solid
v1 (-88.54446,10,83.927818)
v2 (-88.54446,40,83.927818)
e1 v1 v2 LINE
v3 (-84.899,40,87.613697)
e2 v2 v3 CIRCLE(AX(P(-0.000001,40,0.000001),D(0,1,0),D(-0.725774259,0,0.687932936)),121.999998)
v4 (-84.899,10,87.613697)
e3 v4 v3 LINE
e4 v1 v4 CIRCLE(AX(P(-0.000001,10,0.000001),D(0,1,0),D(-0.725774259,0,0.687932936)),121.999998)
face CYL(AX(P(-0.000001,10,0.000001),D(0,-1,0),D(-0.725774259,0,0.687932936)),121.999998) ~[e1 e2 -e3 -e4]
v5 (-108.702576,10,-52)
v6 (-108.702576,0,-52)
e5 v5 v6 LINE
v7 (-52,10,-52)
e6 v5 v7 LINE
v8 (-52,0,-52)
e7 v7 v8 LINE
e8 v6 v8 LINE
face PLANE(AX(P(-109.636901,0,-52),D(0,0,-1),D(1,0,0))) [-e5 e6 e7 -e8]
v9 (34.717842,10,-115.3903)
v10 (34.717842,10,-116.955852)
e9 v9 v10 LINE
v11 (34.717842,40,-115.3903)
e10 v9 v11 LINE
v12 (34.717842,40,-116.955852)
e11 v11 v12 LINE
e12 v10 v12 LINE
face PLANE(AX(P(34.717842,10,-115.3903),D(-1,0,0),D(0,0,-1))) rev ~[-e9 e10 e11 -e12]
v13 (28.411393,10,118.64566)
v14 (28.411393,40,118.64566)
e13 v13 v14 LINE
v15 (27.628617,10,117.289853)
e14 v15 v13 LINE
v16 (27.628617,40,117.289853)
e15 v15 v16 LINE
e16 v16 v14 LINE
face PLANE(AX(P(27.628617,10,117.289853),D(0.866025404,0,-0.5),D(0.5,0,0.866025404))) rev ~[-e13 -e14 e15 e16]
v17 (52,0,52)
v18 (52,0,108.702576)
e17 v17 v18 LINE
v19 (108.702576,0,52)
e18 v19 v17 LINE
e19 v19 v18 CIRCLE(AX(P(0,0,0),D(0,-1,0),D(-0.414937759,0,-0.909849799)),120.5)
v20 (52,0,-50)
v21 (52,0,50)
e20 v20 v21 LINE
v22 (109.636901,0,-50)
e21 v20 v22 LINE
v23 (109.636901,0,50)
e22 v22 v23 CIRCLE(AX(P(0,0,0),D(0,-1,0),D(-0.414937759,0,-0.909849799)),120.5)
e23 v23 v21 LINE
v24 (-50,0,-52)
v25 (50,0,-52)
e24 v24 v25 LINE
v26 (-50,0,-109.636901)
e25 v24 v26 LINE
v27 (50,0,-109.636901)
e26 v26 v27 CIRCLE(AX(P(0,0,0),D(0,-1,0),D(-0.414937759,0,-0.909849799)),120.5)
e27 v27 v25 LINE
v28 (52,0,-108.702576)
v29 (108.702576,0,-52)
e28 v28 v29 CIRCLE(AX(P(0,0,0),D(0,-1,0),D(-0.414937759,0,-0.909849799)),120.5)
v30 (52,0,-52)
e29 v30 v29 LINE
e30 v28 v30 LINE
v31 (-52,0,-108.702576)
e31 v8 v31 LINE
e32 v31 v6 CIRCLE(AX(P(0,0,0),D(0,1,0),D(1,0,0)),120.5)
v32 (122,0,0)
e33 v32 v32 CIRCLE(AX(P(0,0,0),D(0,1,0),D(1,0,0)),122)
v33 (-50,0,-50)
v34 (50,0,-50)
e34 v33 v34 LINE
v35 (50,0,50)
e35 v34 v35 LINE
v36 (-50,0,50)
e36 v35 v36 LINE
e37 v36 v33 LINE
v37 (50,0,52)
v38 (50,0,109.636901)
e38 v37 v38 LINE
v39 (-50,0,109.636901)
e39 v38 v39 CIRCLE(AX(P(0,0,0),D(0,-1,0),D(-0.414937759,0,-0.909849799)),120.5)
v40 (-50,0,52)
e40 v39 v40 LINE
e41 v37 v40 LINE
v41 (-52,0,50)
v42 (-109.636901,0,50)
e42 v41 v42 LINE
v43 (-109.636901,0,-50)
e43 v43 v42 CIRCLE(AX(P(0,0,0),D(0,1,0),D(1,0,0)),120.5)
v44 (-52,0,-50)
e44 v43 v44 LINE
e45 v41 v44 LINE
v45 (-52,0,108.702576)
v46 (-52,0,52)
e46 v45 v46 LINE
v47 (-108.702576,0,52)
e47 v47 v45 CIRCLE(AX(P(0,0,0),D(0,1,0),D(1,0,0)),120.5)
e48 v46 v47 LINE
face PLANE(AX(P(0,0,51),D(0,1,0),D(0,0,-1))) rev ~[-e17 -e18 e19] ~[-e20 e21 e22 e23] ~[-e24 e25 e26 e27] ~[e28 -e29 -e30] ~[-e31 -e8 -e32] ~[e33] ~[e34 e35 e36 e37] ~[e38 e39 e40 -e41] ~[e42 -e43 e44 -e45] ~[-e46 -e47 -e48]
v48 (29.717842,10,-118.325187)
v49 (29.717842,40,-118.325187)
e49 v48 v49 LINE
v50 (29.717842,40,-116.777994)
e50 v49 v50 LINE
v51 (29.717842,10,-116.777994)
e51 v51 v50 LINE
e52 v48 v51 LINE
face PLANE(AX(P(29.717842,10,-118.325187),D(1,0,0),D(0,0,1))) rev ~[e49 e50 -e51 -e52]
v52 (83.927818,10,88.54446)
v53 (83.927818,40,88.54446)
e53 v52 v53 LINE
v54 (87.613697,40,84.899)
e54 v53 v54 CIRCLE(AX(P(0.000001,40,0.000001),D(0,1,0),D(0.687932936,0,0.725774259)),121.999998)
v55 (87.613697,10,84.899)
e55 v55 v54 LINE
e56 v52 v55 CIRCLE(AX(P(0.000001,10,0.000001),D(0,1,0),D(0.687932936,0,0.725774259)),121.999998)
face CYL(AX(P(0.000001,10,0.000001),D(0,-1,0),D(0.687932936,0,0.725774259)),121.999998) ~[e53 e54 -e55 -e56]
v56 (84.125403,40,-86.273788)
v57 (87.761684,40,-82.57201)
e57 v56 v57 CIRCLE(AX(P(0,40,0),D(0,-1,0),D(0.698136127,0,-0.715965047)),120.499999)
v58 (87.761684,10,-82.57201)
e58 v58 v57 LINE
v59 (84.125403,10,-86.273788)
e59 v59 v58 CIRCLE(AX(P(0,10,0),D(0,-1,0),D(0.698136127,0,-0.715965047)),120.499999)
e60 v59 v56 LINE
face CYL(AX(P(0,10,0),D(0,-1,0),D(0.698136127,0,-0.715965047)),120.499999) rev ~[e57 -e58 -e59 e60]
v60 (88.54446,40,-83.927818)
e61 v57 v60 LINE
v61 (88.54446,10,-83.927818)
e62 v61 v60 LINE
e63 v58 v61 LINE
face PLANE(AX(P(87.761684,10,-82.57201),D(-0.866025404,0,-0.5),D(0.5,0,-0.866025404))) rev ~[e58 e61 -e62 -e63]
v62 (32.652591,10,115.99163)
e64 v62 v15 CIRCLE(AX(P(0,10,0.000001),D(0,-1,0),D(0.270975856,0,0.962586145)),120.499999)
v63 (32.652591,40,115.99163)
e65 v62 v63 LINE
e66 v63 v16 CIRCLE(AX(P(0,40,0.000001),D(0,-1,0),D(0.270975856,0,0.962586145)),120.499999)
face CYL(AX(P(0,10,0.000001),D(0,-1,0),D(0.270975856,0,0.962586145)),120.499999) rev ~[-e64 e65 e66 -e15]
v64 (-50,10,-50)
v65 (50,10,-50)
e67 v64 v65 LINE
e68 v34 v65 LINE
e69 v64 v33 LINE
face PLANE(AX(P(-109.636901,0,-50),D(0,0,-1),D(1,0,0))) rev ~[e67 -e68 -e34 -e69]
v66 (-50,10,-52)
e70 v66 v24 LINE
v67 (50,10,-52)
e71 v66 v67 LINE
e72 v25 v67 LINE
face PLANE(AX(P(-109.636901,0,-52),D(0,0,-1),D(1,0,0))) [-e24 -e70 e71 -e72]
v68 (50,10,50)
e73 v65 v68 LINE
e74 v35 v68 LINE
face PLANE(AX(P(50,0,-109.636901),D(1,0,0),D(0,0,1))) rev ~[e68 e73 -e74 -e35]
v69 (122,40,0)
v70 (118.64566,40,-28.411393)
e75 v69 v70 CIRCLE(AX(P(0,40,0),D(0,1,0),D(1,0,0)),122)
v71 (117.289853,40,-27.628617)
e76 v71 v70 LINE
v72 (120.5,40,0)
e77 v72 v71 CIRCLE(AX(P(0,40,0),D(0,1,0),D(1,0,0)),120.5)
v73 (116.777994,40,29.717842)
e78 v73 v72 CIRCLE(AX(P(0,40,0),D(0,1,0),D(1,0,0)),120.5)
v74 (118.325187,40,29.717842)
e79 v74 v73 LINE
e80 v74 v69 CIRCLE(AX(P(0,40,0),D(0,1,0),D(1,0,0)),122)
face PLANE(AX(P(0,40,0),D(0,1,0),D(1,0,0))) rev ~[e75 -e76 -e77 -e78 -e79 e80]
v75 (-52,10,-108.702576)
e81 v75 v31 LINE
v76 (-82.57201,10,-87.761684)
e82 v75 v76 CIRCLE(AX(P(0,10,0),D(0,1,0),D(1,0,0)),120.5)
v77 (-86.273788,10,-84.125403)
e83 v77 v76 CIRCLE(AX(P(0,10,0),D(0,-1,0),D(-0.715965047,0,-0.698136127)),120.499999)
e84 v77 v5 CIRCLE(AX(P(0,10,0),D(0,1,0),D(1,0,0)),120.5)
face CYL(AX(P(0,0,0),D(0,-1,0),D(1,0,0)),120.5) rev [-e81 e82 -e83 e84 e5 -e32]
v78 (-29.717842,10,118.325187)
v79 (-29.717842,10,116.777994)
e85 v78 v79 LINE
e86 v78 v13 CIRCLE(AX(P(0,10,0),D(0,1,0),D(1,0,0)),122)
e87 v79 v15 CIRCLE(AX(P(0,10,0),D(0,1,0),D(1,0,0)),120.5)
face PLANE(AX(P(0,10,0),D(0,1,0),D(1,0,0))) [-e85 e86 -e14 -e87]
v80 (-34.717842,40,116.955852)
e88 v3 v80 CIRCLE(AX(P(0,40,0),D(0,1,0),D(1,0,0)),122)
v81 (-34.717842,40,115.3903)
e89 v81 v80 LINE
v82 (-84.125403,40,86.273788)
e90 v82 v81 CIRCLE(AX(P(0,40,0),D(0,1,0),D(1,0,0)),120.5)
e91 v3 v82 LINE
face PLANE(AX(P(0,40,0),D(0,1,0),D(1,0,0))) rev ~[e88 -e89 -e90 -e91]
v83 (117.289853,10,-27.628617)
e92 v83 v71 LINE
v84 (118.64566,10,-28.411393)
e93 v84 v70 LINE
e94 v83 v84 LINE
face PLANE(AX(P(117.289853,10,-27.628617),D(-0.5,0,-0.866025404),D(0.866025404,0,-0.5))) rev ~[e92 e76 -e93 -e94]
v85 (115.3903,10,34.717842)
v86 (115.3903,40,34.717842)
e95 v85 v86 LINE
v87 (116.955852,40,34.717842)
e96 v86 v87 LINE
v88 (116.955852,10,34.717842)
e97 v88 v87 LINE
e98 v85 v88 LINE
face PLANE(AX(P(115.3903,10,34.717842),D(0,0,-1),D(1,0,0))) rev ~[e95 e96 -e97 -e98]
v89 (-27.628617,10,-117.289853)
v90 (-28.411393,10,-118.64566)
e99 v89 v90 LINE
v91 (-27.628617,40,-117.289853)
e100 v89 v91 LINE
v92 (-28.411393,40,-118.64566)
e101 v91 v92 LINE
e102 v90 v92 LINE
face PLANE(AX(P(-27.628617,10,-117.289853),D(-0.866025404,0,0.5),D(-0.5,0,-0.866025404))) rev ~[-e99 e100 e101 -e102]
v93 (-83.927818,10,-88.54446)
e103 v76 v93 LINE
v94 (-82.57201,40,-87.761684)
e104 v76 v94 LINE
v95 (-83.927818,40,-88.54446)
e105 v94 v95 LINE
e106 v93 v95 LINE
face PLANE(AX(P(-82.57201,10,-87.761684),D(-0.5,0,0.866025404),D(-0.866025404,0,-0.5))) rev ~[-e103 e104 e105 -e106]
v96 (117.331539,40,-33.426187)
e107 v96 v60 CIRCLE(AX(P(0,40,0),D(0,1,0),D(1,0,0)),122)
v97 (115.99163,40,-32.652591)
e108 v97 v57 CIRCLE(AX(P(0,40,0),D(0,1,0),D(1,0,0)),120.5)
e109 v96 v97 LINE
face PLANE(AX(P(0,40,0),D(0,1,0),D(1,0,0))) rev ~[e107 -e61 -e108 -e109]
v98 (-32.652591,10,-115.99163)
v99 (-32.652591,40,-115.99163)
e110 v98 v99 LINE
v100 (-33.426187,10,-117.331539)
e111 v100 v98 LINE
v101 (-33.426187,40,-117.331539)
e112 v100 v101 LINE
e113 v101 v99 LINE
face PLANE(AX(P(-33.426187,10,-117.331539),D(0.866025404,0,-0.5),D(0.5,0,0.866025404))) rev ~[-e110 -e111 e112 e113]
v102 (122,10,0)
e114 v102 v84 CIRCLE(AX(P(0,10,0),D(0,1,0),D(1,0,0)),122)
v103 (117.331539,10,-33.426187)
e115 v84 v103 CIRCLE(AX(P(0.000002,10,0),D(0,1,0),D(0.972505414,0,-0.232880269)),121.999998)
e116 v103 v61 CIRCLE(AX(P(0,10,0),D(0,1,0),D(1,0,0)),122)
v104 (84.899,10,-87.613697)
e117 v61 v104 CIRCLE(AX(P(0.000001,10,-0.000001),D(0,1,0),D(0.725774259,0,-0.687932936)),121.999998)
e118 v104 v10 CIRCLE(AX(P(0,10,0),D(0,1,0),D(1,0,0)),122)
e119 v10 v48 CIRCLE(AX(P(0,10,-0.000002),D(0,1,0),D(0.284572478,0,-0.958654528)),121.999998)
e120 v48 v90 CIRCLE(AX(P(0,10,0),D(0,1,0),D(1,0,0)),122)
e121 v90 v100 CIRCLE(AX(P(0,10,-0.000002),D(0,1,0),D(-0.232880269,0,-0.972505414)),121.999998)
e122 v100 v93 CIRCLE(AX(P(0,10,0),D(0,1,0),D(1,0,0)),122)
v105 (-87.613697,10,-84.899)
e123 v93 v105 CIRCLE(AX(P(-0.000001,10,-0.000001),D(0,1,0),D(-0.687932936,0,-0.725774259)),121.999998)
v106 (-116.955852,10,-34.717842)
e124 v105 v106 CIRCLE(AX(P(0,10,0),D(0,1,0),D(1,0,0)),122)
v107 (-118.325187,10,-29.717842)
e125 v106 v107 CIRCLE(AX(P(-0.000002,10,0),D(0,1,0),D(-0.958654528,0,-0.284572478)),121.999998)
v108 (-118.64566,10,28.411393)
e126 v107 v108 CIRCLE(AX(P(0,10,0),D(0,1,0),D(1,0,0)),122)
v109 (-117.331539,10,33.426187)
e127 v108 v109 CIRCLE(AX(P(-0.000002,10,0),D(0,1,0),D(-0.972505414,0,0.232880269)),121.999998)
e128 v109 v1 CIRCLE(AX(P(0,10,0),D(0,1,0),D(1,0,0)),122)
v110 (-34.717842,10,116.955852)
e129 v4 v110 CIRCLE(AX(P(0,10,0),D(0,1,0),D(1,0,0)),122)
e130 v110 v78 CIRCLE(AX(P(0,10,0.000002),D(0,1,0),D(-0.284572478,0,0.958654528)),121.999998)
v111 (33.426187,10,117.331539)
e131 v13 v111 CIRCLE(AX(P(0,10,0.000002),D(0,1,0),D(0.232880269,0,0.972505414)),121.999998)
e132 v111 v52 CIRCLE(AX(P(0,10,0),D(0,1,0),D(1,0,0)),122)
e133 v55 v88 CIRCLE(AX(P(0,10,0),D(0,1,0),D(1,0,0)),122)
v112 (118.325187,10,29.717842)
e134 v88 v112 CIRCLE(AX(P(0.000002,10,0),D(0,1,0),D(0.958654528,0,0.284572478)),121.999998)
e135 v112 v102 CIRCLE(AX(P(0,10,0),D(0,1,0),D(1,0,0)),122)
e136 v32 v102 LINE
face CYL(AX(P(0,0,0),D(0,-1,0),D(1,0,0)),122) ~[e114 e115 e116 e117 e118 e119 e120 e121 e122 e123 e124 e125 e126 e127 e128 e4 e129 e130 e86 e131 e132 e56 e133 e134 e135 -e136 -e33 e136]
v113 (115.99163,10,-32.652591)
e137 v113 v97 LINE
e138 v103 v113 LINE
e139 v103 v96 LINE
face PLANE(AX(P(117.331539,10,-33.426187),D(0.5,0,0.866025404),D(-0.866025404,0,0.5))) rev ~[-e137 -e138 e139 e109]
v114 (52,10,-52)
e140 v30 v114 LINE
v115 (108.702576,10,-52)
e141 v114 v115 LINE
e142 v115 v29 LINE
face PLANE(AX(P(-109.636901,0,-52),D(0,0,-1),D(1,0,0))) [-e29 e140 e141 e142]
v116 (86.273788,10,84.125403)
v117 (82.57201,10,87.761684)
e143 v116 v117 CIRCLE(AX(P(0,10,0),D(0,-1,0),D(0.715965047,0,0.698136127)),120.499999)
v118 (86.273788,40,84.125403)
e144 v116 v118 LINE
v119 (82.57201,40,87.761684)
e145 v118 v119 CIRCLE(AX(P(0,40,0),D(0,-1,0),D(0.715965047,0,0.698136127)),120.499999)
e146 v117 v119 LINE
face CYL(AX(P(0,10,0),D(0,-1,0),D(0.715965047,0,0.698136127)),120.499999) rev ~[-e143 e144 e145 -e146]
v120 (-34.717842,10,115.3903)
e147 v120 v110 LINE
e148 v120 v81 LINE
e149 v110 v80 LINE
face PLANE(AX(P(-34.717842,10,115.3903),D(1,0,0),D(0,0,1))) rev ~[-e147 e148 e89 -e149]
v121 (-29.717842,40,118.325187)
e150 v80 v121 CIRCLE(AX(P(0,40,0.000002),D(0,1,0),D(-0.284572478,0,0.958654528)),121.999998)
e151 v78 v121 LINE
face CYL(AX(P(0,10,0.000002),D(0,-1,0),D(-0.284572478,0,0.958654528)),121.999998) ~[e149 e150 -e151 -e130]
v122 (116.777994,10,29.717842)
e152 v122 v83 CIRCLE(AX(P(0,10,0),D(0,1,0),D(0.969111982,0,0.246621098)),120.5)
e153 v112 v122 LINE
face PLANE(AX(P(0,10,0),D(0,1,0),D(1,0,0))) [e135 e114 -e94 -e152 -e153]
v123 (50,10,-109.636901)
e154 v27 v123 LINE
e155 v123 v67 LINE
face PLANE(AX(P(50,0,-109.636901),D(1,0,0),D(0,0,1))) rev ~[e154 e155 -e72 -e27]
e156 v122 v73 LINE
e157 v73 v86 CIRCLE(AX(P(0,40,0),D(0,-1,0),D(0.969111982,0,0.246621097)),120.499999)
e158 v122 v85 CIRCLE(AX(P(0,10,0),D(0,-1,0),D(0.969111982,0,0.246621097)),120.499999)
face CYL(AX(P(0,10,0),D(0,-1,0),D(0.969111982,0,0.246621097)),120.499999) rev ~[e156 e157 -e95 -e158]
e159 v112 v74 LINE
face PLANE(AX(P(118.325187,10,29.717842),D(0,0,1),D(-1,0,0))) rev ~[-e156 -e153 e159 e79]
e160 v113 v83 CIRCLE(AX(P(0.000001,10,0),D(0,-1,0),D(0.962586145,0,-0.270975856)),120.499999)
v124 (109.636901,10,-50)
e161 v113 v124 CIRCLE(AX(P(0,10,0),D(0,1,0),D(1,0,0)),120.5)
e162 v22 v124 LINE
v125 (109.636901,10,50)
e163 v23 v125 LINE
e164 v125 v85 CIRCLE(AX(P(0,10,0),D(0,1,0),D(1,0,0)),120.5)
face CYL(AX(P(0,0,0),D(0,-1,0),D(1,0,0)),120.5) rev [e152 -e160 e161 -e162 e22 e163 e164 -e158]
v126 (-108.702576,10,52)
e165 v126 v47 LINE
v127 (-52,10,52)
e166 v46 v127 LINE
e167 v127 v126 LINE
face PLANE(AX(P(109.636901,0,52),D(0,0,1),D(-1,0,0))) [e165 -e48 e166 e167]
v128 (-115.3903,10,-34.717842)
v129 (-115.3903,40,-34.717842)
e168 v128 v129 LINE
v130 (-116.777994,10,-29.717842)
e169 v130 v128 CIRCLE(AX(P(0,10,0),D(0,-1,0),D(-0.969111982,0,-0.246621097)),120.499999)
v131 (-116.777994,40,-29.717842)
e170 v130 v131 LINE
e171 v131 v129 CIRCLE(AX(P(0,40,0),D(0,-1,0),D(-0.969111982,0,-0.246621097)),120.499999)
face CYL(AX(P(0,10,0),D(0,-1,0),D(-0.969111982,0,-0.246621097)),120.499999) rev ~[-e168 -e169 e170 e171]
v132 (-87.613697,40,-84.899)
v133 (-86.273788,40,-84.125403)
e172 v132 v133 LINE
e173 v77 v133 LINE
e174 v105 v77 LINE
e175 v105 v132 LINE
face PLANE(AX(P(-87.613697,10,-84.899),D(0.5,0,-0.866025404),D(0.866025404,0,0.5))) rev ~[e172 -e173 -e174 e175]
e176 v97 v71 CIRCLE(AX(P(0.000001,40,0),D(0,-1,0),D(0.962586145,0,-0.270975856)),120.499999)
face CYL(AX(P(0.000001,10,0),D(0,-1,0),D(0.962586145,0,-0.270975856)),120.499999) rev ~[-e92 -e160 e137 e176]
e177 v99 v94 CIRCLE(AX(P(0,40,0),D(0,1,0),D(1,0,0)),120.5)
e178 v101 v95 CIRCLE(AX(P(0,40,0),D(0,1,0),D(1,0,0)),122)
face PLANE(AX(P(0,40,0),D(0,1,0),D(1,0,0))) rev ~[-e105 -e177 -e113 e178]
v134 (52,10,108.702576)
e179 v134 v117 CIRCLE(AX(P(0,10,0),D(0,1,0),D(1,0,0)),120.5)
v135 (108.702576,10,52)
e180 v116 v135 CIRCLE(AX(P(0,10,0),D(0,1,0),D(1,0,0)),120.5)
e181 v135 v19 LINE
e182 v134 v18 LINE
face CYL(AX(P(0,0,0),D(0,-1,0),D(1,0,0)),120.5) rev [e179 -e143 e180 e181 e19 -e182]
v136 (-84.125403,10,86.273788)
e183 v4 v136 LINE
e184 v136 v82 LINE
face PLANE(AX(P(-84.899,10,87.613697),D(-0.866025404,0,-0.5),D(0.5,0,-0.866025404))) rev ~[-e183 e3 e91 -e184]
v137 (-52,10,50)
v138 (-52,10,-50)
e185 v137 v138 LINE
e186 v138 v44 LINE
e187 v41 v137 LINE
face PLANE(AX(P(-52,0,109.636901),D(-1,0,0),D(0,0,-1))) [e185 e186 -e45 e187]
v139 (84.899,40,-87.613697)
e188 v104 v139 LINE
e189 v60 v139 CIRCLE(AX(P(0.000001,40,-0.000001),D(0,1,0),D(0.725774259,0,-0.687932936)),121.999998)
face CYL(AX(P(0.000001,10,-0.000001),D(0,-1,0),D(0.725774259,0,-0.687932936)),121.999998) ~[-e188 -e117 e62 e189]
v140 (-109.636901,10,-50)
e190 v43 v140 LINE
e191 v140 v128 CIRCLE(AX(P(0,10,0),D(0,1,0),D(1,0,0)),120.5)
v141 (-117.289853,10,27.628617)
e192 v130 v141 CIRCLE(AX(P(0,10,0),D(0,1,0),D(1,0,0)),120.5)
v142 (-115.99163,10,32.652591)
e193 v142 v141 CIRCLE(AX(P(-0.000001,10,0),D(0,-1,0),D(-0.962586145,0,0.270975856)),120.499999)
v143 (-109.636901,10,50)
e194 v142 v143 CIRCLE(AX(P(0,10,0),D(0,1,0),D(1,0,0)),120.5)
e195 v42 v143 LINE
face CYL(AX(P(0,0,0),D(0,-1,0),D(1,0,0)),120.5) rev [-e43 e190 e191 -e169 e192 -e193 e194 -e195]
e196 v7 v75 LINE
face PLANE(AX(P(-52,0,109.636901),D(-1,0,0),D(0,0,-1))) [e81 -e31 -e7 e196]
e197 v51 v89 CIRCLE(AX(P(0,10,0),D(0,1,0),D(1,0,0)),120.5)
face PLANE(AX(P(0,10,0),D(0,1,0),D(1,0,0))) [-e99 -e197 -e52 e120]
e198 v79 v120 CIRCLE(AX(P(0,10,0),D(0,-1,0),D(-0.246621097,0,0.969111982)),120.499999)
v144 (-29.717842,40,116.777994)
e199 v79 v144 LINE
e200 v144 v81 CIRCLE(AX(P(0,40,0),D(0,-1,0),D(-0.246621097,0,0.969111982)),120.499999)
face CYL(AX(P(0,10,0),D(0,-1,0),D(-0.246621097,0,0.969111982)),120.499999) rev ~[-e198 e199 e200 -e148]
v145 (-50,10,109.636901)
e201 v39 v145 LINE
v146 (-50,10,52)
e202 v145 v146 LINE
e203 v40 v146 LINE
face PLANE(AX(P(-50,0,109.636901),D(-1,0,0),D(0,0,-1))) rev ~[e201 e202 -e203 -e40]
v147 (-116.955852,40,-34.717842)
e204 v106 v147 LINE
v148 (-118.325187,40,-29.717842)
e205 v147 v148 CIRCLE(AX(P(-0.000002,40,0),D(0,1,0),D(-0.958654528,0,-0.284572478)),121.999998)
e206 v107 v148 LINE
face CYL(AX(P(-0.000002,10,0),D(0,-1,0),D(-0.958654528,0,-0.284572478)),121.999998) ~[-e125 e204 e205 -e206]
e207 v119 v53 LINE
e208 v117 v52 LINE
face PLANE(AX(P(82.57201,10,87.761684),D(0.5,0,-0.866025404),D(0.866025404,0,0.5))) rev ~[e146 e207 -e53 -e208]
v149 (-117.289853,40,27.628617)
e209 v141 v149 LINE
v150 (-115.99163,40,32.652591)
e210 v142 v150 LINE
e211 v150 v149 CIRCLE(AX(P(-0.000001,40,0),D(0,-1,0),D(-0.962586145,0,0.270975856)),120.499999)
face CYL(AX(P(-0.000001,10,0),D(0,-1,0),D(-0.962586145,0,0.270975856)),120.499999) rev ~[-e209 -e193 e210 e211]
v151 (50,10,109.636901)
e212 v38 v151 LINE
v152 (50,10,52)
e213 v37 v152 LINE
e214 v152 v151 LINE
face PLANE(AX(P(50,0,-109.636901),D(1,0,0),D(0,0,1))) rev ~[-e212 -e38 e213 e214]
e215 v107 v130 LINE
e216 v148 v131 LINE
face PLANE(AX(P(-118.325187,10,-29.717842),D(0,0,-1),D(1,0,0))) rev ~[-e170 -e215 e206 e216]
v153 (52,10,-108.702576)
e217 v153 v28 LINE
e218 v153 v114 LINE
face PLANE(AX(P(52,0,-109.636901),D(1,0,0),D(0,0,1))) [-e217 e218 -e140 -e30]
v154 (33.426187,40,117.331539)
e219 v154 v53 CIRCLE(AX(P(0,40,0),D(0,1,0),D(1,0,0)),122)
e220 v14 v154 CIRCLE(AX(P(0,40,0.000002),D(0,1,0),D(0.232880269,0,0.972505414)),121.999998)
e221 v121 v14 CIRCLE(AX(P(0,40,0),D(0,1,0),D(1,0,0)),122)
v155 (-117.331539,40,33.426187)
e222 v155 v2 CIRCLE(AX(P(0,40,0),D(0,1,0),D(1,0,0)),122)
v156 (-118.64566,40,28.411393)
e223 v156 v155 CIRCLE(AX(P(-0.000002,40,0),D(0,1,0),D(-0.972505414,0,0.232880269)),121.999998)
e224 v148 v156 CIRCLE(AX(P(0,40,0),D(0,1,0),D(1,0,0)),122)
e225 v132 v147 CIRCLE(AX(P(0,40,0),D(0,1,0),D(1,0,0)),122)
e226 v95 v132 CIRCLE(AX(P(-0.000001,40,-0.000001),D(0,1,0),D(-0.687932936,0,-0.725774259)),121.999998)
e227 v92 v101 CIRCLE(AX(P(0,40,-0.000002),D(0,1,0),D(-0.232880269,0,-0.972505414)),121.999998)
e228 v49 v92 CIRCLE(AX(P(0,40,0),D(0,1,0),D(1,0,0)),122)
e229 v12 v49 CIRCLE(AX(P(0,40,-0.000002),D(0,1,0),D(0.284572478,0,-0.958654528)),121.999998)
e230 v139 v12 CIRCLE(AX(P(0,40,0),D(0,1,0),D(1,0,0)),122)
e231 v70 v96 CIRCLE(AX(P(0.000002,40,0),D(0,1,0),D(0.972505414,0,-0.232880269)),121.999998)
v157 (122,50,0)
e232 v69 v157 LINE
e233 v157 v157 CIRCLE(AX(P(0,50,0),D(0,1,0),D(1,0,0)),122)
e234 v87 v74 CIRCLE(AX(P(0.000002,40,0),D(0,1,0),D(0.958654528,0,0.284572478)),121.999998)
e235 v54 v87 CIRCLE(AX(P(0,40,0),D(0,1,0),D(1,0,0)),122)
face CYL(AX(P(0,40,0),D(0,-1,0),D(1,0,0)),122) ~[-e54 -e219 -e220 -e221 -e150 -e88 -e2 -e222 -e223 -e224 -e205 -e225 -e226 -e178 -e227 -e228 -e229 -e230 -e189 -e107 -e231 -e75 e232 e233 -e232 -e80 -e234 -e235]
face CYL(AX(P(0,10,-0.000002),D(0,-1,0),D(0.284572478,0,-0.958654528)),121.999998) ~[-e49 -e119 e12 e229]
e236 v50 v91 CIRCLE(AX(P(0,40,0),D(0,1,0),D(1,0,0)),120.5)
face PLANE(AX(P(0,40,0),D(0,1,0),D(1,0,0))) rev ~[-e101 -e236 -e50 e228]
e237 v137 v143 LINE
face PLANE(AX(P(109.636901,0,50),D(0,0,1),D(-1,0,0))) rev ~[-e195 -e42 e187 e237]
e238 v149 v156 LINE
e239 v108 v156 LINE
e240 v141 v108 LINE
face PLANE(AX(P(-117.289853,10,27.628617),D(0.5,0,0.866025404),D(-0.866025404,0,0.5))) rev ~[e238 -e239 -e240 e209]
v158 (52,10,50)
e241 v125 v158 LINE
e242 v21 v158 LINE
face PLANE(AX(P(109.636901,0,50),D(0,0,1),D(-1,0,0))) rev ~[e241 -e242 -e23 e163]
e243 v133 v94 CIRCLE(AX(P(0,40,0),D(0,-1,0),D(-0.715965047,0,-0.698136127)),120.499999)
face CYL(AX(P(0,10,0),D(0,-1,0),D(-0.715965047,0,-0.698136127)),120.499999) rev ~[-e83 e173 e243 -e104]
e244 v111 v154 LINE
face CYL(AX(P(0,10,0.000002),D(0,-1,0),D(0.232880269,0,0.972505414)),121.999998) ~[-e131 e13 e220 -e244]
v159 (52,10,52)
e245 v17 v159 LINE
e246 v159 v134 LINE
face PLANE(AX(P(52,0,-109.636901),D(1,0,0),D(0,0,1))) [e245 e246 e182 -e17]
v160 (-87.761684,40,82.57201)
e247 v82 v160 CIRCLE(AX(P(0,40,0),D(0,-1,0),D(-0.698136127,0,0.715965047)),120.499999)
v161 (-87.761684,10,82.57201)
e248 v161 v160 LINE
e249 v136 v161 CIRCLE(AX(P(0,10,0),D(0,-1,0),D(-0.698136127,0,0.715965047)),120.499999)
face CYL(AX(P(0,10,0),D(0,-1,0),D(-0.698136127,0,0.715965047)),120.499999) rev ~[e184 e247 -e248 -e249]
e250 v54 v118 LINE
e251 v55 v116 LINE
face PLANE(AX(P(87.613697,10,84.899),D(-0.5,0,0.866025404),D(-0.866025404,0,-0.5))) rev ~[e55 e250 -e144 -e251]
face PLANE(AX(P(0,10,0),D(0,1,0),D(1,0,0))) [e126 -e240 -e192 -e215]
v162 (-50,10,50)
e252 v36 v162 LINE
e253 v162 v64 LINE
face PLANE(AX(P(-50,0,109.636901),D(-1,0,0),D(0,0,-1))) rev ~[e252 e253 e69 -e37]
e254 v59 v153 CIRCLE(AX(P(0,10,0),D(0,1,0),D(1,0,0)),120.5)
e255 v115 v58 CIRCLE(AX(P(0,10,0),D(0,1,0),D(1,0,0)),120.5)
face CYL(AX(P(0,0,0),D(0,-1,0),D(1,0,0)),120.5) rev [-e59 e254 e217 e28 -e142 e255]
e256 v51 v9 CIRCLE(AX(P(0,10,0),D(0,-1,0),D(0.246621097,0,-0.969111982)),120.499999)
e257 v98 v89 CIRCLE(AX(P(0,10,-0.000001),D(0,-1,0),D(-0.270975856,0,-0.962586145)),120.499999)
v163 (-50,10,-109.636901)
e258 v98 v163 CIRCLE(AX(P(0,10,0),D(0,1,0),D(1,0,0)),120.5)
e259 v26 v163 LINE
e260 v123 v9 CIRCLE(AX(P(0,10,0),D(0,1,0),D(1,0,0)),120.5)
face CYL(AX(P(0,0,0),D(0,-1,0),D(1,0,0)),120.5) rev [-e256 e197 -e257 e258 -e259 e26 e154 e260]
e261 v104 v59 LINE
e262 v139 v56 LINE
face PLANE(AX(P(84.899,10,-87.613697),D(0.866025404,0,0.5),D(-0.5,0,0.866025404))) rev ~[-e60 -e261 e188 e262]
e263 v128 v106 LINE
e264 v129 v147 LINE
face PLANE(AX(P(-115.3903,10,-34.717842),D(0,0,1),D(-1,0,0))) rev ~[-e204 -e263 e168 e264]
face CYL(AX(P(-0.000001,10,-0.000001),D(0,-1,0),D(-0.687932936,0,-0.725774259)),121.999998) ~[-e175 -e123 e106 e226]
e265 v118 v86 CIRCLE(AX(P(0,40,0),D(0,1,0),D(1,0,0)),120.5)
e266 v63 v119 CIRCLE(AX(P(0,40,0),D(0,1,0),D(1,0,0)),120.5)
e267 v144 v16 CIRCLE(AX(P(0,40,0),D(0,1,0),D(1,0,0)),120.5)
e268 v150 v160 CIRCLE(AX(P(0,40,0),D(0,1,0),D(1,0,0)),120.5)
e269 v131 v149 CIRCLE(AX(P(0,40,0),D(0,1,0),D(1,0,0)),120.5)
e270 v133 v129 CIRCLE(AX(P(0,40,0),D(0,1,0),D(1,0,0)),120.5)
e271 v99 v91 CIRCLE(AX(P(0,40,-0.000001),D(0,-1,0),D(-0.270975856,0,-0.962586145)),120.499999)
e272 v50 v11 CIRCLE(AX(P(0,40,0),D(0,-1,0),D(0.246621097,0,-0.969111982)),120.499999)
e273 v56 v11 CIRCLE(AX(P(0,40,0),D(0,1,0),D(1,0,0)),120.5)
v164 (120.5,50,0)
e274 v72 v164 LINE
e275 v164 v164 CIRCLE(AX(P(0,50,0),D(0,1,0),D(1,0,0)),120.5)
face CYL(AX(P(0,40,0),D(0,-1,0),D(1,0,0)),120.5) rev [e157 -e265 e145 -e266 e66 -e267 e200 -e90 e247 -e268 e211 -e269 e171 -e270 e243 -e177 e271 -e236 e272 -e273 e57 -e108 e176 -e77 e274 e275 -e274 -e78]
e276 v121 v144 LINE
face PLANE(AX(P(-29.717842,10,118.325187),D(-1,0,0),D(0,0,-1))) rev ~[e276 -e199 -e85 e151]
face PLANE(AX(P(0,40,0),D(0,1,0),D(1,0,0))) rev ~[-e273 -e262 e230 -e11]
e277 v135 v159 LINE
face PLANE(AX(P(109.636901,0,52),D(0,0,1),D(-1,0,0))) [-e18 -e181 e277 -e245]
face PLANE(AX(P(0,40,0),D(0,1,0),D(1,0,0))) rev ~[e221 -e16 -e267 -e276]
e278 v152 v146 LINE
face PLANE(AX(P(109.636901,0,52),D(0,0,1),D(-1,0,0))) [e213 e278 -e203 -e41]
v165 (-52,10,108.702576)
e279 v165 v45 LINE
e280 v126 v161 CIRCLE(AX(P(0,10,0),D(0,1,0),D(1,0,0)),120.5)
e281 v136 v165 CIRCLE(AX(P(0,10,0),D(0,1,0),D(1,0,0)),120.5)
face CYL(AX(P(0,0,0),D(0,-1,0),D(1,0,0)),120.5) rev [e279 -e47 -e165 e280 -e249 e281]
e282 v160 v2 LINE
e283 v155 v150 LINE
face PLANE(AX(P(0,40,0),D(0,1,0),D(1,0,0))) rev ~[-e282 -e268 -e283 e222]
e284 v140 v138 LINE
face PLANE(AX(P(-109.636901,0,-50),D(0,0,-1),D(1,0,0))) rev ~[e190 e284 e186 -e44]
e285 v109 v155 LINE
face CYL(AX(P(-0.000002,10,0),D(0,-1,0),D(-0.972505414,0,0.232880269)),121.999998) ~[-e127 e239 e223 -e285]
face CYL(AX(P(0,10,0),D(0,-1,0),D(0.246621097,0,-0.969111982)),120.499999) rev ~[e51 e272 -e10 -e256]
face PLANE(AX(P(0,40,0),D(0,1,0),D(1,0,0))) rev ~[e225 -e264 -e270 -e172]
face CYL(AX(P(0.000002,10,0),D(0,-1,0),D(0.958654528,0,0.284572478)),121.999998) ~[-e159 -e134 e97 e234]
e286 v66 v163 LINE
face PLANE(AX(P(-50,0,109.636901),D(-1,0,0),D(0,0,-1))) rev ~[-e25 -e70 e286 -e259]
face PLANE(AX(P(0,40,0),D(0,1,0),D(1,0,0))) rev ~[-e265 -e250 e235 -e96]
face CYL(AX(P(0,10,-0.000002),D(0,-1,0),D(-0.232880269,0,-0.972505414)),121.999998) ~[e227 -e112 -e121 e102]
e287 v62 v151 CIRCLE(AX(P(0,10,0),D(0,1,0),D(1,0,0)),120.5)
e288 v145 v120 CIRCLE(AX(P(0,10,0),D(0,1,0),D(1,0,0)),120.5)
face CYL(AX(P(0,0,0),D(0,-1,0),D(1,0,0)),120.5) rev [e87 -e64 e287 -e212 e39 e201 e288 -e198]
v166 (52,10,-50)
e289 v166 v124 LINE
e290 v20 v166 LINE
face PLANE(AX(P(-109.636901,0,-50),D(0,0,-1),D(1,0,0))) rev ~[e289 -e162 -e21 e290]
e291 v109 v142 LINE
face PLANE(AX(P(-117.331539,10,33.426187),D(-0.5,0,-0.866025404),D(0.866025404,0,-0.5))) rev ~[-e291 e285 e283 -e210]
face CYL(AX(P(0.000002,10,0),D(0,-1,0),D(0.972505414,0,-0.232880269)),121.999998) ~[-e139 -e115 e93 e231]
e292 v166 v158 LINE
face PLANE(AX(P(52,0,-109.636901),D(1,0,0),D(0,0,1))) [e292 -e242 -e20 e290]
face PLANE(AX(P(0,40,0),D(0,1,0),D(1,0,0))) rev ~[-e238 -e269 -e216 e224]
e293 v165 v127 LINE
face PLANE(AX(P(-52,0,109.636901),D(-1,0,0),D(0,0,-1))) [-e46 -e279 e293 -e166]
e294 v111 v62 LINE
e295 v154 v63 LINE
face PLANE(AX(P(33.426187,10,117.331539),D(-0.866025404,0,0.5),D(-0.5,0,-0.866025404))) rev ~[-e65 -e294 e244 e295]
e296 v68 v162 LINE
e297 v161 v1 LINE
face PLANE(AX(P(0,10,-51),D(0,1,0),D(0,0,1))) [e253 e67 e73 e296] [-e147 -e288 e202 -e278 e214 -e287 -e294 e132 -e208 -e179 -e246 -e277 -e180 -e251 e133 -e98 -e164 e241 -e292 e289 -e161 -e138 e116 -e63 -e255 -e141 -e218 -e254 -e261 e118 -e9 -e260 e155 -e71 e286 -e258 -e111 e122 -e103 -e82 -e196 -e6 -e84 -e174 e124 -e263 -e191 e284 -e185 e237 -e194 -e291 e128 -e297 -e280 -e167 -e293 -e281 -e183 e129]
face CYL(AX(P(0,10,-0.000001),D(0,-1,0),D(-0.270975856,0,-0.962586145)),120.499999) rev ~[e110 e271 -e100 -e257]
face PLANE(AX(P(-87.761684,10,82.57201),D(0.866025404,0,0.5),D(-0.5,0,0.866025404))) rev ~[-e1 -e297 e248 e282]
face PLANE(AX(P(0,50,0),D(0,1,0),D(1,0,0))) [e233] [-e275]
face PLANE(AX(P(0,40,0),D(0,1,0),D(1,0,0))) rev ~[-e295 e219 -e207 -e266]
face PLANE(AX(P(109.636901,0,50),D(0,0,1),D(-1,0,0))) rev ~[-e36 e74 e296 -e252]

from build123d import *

# Parameters (mm, degrees)
SKETCH1_R           = 122
SKETCH1_R_2         = 120.5
BOSS_EXTRUDE1_DEPTH = 10
BOSS_EXTRUDE2_DEPTH = 30
CIRPATTERN1_COUNT   = 12
SKETCH4_R           = 122
SKETCH4_R_2         = 120.5
BOSS_EXTRUDE3_DEPTH = 10
SKETCH6_W           = 2
SKETCH6_H           = 219.273801444
BOSS_EXTRUDE4_DEPTH = 10
CIRPATTERN2_COUNT   = 4


with BuildPart() as part:
    # Sketch1 → Boss-Extrude1 (new body)
    with BuildSketch(Plane(origin=(0, 0, 0), x_dir=(1, 0, 0), z_dir=(0, 1, 0))):
        Circle(SKETCH1_R)
        Circle(SKETCH1_R_2, mode=Mode.SUBTRACT)
    extrude(amount=BOSS_EXTRUDE1_DEPTH)

    # Sketch3 → Boss-Extrude2 (add)
    with BuildSketch(Plane(origin=(0, 10, 0), x_dir=(1, 0, 0), z_dir=(0, 1, 0))):
        with BuildLine():
            Line((34.717842259, 115.390300411), (34.717842259, 116.955852478))
            ThreePointArc((34.717842259, 116.955852478), (32.225116431, 117.66708066), (29.717842259, 118.325186885))
            Line((29.717842259, 118.325186885), (29.717842259, 116.777993866))
            ThreePointArc((29.717842259, 116.777993866), (32.22531277, 116.111064145), (34.717842259, 115.390300411))
        make_face()
    boss_extrude2 = extrude(amount=BOSS_EXTRUDE2_DEPTH)

    # CirPattern1: Boss-Extrude2 ×12 about axis
    cirpattern1_axis = Axis((0, 0, 0), (0, 1, 0))
    for i in range(1, CIRPATTERN1_COUNT):
        add(boss_extrude2.rotate(cirpattern1_axis, i * 360 / CIRPATTERN1_COUNT))

    # Sketch4 → Boss-Extrude3 (add)
    with BuildSketch(Plane(origin=(0, 40, 0), x_dir=(1, 0, 0), z_dir=(0, 1, 0))):
        Circle(SKETCH4_R)
        Circle(SKETCH4_R_2, mode=Mode.SUBTRACT)
    extrude(amount=BOSS_EXTRUDE3_DEPTH)

    # Sketch6 → Boss-Extrude4 (add)
    with BuildSketch(Plane(origin=(0, 0, 0), x_dir=(1, 0, 0), z_dir=(0, 1, 0))):
        with Locations((-51, 0)):
            Rectangle(SKETCH6_W, SKETCH6_H)
    boss_extrude4 = extrude(amount=BOSS_EXTRUDE4_DEPTH)

    # CirPattern2: Boss-Extrude4 ×4 about axis
    cirpattern2_axis = Axis((0, 0, 0), (0, 1, 0))
    for i in range(1, CIRPATTERN2_COUNT):
        add(boss_extrude4.rotate(cirpattern2_axis, i * 360 / CIRPATTERN2_COUNT))


solid = part.part
